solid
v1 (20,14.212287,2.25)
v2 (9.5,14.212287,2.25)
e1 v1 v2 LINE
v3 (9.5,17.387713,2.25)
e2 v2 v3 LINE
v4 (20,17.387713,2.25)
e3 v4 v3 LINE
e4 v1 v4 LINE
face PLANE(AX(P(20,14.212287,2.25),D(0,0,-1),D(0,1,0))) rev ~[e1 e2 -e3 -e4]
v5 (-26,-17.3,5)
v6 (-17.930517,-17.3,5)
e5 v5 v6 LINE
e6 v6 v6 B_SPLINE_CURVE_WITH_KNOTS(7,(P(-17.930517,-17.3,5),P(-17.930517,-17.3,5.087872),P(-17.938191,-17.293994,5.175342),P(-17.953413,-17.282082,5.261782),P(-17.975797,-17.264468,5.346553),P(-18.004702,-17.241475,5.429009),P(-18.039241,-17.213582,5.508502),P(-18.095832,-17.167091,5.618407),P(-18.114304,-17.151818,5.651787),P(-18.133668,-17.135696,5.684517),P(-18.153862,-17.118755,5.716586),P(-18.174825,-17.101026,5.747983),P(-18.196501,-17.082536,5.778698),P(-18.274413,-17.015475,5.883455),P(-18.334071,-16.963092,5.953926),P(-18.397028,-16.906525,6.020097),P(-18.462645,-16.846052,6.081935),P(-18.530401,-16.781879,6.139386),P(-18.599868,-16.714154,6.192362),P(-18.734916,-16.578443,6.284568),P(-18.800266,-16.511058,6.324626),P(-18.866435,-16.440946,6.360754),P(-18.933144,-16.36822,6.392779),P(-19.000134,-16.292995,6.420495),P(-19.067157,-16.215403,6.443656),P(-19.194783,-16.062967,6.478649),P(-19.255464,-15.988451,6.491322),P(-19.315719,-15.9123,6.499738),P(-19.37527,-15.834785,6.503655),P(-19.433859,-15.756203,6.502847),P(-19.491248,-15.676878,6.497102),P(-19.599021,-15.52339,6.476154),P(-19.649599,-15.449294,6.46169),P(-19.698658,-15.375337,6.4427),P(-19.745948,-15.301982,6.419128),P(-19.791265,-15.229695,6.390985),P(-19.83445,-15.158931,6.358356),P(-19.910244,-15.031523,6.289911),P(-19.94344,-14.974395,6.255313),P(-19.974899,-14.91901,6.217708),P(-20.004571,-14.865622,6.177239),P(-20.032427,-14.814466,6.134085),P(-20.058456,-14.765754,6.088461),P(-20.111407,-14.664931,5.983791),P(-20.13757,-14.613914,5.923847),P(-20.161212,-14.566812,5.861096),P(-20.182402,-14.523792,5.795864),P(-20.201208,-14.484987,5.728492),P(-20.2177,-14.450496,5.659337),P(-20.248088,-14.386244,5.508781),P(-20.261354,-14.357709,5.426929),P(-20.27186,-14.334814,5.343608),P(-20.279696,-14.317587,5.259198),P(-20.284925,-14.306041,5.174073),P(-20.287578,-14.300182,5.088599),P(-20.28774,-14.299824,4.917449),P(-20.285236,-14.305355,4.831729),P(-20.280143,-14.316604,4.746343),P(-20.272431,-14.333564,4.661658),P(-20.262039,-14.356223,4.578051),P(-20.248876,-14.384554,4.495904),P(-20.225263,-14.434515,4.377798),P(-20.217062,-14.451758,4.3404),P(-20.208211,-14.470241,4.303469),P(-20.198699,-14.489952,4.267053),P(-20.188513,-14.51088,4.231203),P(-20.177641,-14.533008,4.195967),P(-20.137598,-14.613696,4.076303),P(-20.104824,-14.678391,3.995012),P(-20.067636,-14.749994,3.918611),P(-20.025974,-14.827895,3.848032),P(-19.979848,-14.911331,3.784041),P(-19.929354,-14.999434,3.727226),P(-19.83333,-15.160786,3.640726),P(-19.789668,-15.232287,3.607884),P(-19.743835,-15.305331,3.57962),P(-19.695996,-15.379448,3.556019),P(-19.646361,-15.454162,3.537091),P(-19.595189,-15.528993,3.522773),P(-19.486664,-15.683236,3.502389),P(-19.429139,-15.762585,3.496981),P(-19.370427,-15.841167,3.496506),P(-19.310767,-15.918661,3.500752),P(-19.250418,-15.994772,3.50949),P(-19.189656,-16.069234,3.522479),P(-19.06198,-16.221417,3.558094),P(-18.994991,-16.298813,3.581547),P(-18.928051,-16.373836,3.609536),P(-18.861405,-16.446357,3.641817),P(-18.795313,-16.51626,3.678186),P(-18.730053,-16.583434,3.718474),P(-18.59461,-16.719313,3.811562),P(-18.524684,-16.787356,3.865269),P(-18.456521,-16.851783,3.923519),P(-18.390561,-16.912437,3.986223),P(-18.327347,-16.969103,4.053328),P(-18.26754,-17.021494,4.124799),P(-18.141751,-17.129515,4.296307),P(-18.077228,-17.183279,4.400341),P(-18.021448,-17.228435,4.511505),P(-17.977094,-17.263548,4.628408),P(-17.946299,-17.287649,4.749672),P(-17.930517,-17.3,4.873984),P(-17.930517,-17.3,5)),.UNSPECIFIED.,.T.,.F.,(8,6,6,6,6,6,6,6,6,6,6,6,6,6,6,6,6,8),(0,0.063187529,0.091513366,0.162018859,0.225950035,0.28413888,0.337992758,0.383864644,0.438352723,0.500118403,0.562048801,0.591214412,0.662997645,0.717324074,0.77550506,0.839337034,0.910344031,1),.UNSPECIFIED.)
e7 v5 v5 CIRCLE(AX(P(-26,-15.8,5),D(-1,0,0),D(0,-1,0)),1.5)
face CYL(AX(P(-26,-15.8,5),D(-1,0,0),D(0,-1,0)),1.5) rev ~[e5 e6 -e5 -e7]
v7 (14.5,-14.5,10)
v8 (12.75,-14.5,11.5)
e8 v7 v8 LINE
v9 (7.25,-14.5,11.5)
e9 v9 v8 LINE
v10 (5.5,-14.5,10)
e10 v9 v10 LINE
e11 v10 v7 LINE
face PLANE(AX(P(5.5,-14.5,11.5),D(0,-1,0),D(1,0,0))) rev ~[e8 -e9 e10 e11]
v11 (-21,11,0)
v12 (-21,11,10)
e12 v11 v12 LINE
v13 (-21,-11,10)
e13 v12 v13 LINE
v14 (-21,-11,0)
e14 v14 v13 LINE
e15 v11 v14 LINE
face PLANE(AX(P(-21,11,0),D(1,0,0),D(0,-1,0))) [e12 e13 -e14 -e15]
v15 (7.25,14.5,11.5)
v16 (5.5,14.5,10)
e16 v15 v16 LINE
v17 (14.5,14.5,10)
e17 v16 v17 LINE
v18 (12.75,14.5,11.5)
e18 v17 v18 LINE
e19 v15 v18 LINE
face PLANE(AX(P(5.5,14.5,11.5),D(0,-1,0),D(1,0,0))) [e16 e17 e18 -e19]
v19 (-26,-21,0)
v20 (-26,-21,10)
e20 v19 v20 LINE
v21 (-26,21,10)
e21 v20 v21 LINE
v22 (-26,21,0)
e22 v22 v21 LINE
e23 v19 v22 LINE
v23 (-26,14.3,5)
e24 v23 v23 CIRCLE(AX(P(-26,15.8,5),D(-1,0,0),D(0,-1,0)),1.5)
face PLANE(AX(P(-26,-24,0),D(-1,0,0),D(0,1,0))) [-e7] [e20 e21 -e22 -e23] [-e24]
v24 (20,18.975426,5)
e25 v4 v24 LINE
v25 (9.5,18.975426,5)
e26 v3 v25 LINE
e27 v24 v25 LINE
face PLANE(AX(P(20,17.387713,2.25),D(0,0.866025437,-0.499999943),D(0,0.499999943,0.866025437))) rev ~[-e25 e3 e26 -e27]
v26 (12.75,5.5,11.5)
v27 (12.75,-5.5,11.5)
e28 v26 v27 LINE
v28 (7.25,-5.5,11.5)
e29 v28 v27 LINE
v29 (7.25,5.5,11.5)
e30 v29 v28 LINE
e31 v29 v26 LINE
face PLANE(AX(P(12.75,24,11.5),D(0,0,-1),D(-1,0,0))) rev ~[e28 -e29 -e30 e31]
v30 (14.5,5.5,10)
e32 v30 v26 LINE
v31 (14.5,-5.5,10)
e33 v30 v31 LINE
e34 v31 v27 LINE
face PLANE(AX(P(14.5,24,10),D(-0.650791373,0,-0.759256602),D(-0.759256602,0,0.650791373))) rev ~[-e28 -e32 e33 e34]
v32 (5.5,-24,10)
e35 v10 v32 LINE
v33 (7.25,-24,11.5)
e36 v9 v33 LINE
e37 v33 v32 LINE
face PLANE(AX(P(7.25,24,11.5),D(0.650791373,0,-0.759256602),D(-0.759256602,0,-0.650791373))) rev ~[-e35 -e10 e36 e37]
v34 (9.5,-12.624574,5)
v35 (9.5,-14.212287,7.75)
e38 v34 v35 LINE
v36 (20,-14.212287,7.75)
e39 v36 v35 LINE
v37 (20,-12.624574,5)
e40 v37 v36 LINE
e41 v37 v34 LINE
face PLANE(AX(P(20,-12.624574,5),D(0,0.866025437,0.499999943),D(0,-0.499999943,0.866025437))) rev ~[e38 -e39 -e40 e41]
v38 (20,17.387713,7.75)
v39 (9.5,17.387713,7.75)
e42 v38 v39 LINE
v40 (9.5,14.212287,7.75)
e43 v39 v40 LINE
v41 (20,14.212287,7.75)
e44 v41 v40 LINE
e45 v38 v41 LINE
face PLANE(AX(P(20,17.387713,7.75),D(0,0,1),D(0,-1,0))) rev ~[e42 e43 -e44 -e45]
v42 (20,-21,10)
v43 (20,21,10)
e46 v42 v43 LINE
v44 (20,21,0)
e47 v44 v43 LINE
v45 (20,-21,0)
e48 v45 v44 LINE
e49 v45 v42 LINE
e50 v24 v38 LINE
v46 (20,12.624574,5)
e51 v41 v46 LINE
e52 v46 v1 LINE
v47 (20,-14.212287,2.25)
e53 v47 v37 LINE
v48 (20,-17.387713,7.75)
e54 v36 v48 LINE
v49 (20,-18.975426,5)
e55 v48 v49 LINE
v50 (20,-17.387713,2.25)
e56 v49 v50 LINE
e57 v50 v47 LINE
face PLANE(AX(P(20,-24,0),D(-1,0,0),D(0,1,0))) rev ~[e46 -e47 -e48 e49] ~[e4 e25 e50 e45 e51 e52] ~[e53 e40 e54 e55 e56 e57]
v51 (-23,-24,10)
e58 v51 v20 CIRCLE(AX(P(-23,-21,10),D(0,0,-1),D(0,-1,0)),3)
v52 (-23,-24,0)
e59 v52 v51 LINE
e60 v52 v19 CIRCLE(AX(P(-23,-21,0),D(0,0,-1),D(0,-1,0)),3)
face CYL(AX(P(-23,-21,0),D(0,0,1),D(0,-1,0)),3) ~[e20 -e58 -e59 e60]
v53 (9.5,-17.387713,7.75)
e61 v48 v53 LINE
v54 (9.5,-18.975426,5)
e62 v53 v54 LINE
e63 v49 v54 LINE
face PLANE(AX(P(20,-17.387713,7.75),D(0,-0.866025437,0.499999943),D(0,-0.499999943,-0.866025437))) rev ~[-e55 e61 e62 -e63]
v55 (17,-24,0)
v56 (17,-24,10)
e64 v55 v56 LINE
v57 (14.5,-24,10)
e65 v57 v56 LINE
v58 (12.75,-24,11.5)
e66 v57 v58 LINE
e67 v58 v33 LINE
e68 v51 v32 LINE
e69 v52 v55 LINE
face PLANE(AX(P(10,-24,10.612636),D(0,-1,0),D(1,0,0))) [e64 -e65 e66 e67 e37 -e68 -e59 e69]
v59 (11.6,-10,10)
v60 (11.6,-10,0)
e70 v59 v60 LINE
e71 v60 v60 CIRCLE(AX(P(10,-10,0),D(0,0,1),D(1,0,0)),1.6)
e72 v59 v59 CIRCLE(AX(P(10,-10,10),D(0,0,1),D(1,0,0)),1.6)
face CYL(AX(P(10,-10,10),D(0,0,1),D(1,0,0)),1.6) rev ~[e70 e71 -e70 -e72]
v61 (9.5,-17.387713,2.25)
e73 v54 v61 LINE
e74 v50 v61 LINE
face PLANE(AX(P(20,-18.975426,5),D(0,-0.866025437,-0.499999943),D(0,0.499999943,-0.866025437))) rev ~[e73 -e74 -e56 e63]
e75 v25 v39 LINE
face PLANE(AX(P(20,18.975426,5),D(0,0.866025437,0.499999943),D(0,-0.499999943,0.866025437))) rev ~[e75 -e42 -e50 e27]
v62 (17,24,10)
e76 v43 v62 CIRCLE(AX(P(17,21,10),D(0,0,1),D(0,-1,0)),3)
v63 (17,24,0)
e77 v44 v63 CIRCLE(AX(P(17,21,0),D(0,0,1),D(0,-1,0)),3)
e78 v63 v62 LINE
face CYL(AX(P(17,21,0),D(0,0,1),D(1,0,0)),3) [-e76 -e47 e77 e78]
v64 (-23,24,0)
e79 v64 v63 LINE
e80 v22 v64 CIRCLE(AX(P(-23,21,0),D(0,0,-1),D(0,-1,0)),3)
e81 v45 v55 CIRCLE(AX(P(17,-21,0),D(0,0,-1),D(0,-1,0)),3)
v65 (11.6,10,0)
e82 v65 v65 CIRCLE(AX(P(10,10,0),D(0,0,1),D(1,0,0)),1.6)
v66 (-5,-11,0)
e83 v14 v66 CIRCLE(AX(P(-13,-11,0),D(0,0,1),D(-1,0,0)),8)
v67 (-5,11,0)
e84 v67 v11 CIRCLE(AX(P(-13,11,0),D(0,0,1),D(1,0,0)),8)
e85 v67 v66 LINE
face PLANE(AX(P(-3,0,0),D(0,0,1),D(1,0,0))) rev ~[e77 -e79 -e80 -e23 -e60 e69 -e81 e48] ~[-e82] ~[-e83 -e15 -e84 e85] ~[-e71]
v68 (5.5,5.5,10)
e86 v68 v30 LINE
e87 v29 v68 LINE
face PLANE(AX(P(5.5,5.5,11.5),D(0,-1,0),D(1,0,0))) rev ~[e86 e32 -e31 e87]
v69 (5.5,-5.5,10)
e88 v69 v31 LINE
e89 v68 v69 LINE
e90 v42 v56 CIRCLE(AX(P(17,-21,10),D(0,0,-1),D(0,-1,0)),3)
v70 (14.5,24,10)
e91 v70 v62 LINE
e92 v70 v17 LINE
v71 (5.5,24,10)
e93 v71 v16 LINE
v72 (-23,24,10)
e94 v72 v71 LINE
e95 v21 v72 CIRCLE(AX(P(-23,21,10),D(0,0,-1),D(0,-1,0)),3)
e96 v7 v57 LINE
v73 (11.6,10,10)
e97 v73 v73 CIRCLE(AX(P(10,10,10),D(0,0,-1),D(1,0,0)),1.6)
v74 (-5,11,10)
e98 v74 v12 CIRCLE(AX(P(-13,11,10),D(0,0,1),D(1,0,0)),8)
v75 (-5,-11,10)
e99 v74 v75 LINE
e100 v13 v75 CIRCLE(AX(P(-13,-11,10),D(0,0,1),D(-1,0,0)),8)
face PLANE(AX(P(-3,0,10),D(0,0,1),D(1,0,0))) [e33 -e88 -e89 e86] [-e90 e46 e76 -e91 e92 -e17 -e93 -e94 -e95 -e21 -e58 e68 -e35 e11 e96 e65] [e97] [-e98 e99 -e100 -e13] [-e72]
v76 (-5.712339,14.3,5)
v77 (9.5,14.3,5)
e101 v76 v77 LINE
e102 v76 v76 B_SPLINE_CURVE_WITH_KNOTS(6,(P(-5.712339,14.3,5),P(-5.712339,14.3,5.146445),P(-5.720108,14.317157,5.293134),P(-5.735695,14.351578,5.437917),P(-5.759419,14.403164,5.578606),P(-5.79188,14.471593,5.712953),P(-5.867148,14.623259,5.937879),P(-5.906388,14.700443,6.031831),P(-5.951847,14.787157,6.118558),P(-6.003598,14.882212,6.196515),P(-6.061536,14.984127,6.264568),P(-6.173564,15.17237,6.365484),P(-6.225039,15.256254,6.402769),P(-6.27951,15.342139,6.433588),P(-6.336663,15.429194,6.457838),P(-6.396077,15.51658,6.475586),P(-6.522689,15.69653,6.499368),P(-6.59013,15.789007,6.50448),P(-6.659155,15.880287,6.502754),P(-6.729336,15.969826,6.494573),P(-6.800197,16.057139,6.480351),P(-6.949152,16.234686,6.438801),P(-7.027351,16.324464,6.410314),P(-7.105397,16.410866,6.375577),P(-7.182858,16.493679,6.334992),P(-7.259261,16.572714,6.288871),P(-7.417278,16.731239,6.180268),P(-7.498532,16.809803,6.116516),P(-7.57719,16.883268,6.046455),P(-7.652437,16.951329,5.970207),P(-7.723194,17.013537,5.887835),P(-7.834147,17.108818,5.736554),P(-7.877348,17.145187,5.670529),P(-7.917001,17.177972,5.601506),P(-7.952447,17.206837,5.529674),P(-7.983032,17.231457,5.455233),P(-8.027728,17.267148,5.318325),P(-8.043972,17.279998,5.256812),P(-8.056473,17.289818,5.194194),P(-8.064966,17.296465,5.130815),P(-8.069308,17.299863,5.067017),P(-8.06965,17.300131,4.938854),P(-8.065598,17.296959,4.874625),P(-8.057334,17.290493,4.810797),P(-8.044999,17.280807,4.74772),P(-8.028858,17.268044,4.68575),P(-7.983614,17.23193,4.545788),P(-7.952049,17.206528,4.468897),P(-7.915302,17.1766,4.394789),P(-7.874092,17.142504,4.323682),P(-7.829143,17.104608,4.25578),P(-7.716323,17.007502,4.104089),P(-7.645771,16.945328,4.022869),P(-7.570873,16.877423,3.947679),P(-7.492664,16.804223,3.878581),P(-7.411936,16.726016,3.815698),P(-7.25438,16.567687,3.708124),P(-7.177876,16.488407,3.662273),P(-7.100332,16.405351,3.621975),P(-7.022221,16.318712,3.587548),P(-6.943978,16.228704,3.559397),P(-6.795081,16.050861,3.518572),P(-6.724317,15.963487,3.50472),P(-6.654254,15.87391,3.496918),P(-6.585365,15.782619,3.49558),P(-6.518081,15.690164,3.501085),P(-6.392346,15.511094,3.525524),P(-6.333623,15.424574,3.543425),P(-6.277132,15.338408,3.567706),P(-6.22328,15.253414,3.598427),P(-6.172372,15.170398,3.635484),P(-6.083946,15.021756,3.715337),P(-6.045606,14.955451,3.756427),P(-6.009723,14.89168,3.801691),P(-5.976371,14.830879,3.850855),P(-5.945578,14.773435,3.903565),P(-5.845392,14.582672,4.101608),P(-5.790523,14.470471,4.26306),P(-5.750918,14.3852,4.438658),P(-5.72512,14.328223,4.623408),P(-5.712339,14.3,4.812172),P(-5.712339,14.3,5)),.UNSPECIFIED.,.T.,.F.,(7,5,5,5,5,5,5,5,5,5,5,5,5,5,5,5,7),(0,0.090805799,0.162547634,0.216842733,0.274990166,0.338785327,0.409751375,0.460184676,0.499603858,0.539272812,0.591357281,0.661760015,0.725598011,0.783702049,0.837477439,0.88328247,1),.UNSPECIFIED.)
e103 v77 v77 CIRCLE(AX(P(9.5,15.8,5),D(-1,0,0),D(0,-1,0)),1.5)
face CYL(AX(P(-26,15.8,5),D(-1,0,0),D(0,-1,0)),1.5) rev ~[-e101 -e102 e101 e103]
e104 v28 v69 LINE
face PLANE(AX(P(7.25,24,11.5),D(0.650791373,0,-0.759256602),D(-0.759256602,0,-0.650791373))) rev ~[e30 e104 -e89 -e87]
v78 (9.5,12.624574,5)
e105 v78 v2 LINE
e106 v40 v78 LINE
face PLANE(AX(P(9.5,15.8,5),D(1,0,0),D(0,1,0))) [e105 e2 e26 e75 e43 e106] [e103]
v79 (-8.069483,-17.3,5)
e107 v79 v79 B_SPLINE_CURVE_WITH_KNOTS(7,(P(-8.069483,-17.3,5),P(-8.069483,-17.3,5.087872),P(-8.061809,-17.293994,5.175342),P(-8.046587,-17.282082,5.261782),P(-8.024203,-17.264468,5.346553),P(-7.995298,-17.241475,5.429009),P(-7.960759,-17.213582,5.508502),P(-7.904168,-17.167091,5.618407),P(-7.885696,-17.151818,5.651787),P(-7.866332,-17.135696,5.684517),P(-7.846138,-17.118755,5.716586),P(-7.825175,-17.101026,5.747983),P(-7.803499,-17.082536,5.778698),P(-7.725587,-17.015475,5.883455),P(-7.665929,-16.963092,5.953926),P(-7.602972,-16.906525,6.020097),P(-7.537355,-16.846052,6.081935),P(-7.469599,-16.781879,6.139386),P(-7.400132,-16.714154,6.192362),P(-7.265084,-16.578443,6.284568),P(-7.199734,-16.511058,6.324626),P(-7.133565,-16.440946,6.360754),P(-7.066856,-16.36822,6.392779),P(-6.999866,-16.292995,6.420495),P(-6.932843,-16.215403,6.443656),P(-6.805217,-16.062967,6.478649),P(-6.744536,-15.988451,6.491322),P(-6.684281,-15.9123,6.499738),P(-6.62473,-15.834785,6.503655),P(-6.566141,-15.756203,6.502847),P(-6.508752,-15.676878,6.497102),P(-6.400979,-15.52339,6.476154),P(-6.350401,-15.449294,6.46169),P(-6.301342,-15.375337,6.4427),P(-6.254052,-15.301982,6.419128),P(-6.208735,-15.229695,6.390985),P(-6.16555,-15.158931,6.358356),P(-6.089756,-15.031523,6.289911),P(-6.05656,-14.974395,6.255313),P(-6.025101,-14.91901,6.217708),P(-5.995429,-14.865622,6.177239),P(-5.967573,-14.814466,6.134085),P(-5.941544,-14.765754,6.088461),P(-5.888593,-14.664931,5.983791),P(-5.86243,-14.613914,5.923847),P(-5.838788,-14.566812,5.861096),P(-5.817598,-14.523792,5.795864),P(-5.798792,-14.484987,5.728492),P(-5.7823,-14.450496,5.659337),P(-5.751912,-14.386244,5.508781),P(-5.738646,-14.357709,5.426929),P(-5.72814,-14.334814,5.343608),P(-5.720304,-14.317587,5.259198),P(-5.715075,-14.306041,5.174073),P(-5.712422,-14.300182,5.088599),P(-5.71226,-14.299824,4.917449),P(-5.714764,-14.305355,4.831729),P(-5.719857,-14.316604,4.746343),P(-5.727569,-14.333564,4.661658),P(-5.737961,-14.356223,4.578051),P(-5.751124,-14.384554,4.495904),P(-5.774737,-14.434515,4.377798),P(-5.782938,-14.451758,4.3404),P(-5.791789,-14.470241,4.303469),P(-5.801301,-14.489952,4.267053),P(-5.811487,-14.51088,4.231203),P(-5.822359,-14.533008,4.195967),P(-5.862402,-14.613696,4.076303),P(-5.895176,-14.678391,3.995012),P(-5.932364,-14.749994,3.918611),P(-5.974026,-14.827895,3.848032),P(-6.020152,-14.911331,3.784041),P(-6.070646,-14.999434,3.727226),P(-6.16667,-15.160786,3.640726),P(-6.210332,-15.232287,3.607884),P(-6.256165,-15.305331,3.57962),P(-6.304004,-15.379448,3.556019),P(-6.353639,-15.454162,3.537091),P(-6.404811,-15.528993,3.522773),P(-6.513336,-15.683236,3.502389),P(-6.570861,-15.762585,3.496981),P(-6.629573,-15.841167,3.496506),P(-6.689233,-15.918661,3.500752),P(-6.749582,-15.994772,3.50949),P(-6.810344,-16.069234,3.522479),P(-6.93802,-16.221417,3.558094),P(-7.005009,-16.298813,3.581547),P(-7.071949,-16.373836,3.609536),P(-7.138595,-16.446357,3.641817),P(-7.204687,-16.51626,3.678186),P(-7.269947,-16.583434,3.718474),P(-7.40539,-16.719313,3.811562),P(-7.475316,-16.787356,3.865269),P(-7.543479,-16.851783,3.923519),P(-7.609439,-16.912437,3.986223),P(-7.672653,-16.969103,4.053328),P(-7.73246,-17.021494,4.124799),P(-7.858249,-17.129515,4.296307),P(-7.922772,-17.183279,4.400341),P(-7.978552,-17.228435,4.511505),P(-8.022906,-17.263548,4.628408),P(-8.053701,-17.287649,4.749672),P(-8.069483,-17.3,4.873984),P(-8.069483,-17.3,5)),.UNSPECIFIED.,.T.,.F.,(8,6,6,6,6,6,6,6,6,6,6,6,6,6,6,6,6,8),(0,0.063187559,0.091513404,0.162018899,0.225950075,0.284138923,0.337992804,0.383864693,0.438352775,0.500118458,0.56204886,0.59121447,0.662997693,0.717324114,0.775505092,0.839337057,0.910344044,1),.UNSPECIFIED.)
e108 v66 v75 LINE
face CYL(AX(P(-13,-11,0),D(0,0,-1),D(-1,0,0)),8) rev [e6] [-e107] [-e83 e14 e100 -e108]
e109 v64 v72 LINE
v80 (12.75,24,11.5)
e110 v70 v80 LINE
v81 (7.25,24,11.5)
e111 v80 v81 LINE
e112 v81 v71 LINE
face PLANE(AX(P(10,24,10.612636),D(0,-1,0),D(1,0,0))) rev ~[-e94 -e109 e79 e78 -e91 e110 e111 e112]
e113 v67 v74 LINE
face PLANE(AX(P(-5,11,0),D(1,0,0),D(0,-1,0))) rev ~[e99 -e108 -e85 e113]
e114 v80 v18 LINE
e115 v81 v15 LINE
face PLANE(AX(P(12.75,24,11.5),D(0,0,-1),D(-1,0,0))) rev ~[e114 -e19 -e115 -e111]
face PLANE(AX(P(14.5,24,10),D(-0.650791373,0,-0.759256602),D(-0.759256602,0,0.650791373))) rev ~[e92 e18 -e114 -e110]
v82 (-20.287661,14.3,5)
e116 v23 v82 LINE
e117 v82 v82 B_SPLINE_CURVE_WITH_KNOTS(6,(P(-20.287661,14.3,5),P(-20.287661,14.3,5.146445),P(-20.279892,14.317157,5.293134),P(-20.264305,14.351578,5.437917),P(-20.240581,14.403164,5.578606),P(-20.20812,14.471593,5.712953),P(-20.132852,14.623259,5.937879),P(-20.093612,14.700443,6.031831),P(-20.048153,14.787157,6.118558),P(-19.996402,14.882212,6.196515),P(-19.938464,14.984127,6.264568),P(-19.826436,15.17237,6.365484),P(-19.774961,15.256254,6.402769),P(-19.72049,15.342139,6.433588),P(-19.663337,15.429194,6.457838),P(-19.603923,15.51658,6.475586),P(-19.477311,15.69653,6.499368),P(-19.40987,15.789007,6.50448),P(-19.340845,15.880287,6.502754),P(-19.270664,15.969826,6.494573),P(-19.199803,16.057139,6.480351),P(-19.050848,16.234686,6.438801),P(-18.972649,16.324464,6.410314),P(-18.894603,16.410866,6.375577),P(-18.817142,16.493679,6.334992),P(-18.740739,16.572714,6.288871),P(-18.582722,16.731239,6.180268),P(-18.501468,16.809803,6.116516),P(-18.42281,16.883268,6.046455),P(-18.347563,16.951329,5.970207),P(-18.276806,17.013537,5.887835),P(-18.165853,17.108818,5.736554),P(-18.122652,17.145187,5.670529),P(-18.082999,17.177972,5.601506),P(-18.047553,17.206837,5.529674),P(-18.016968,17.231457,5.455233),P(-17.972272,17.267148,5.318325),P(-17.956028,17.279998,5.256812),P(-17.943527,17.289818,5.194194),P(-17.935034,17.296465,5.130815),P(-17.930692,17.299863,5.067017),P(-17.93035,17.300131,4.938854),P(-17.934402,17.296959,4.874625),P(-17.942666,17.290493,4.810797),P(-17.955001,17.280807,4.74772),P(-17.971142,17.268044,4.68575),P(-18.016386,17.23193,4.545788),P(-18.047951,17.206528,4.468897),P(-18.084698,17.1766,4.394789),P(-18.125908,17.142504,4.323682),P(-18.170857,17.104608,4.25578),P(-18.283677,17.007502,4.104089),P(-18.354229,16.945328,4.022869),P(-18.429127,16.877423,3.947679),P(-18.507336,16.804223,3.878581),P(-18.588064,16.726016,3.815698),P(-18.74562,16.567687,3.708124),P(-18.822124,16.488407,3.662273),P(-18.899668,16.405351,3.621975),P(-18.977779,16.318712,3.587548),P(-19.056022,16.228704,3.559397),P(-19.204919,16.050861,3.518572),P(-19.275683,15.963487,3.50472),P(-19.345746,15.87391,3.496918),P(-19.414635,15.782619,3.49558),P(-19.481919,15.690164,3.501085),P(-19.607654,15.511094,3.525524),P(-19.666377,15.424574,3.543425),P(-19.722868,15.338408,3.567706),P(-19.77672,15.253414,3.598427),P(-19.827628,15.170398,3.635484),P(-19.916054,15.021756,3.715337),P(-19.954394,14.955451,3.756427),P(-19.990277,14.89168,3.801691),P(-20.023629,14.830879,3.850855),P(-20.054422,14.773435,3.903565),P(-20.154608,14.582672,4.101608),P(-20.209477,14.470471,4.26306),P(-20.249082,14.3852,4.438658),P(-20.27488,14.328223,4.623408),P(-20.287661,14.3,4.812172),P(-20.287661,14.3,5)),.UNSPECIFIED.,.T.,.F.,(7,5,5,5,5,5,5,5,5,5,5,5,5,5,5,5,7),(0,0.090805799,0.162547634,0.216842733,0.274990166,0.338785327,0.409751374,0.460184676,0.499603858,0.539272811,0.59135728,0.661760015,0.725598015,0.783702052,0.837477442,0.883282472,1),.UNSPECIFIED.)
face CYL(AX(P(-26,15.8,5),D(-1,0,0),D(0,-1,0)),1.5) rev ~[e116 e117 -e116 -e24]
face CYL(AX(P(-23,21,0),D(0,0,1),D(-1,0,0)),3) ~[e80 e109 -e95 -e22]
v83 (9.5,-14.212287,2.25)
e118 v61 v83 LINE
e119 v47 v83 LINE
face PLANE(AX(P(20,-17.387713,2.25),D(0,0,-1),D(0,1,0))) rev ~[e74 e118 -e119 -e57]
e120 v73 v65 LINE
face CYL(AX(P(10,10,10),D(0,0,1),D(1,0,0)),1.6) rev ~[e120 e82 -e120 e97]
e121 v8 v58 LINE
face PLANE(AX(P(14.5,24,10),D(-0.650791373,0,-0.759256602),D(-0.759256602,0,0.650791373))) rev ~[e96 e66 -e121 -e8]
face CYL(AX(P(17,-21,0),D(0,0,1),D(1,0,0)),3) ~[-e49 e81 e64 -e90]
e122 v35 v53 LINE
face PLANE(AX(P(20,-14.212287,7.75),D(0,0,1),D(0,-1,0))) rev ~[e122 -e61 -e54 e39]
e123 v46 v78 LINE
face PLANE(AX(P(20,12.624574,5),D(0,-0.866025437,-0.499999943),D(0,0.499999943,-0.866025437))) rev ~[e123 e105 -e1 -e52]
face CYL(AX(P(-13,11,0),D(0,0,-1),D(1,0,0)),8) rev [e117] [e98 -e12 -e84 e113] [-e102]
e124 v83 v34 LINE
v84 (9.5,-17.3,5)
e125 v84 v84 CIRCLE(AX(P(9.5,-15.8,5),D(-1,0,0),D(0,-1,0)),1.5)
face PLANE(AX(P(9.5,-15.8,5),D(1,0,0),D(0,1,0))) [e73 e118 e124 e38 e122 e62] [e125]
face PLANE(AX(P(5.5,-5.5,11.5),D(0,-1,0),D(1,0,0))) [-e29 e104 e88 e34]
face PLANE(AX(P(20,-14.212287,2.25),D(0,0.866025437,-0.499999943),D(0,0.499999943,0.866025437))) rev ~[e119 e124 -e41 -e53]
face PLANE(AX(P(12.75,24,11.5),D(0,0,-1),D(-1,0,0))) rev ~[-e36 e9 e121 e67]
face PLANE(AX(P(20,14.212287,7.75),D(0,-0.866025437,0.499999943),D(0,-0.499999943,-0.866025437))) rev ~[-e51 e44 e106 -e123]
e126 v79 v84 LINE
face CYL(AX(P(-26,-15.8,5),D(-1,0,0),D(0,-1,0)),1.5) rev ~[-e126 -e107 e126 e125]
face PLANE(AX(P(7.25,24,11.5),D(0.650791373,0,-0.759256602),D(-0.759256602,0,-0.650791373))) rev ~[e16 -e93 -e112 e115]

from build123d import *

# Parameters (mm, degrees)
SKETCH_W        = 46
SKETCH_H        = 48
PAD_DEPTH       = 10
SKETCH001_R     = 1.5
POCKET_DEPTH    = 46.001
SKETCH002_R     = 1.6
POCKET001_DEPTH = 10.001
PAD001_DEPTH    = 48
PAD001_FACE20_R = 1.6
POCKET002_DEPTH = 1.501
SKETCH004_W     = 9
SKETCH004_H     = 9
POCKET003_DEPTH = 1.5
FILLET_R        = 3
POCKET004_DEPTH = 10.5


with BuildPart() as part:
    # Sketch → Pad (new body)
    with BuildSketch(Plane.XY):
        with Locations((-3, 0)):
            Rectangle(SKETCH_W, SKETCH_H)
        with BuildLine():
            ThreePointArc((-5, 11), (-13, 19), (-21, 11))
            Line((-21, 11), (-21, -11))
            ThreePointArc((-21, -11), (-13, -19), (-5, -11))
            Line((-5, 11), (-5, -11))
        make_face(mode=Mode.SUBTRACT)
    extrude(amount=PAD_DEPTH)

    # Sketch001 (on Face2 of Pad) → Pocket (cut, through all)
    with BuildSketch(Plane(origin=(-26, 0, 0), x_dir=(0, -1, 0), z_dir=(-1, 0, 0))):
        with Locations((-15.8, 5)):
            Circle(SKETCH001_R)
        with Locations((15.8, 5)):
            Circle(SKETCH001_R)
    extrude(amount=-POCKET_DEPTH, mode=Mode.SUBTRACT)

    # Sketch002 (on Face5 of Pocket) → Pocket001 (cut, through all)
    with BuildSketch(Plane.XY.offset(10)):
        with Locations((10, 10)):
            Circle(SKETCH002_R)
        with Locations((10, -10)):
            Circle(SKETCH002_R)
    extrude(amount=-POCKET001_DEPTH, mode=Mode.SUBTRACT)

    # Sketch003 (on Face1 of Pocket001) → Pad001 (join)
    with BuildSketch(Plane(origin=(0, 24, 0), x_dir=(-1, 0, 0), z_dir=(0, 1, 0))):
        Polygon((-12.75, 11.5), (-7.25, 11.5), (-5.5, 10), (-14.5, 10), align=None)
    extrude(amount=-PAD001_DEPTH)

    # Pad001 Face20 → Pocket002 (cut, through all)
    with BuildSketch(Plane(origin=(10, 10, 10), x_dir=(0, -1, 0), z_dir=(0, 0, -1))):
        Circle(PAD001_FACE20_R)
    extrude(amount=-POCKET002_DEPTH, mode=Mode.SUBTRACT)

    # Sketch004 (on Face10 of Pocket002) → Pocket003 (cut)
    with BuildSketch(Plane.XY.offset(11.5)):
        with Locations((10, 10)):
            Rectangle(SKETCH004_W, SKETCH004_H)
        with Locations((10, -10)):
            Rectangle(SKETCH004_W, SKETCH004_H)
    extrude(amount=-POCKET003_DEPTH, mode=Mode.SUBTRACT)

    # Fillet
    fillet_edges = [part.edges().sort_by_distance(p)[0] for p in [
        (-26, -24, 5),
        (-26, 24, 5),
        (20, -24, 5),
        (20, 24, 5),
    ]]
    fillet(fillet_edges, radius=FILLET_R)

    # Sketch006 (on Face1 of Fillet) → Pocket004 (cut)
    with BuildSketch(Plane.YZ.offset(20)):
        Polygon((-12.624574, 5), (-14.212287, 7.75), (-17.387713, 7.75), (-18.975426, 5), (-17.387713, 2.25), (-14.212287, 2.25), align=None)
        Polygon((17.387713, 7.75), (14.212287, 7.75), (12.624574, 5), (14.212287, 2.25), (17.387713, 2.25), (18.975426, 5), align=None)
    extrude(amount=-POCKET004_DEPTH, mode=Mode.SUBTRACT)


solid = part.part
